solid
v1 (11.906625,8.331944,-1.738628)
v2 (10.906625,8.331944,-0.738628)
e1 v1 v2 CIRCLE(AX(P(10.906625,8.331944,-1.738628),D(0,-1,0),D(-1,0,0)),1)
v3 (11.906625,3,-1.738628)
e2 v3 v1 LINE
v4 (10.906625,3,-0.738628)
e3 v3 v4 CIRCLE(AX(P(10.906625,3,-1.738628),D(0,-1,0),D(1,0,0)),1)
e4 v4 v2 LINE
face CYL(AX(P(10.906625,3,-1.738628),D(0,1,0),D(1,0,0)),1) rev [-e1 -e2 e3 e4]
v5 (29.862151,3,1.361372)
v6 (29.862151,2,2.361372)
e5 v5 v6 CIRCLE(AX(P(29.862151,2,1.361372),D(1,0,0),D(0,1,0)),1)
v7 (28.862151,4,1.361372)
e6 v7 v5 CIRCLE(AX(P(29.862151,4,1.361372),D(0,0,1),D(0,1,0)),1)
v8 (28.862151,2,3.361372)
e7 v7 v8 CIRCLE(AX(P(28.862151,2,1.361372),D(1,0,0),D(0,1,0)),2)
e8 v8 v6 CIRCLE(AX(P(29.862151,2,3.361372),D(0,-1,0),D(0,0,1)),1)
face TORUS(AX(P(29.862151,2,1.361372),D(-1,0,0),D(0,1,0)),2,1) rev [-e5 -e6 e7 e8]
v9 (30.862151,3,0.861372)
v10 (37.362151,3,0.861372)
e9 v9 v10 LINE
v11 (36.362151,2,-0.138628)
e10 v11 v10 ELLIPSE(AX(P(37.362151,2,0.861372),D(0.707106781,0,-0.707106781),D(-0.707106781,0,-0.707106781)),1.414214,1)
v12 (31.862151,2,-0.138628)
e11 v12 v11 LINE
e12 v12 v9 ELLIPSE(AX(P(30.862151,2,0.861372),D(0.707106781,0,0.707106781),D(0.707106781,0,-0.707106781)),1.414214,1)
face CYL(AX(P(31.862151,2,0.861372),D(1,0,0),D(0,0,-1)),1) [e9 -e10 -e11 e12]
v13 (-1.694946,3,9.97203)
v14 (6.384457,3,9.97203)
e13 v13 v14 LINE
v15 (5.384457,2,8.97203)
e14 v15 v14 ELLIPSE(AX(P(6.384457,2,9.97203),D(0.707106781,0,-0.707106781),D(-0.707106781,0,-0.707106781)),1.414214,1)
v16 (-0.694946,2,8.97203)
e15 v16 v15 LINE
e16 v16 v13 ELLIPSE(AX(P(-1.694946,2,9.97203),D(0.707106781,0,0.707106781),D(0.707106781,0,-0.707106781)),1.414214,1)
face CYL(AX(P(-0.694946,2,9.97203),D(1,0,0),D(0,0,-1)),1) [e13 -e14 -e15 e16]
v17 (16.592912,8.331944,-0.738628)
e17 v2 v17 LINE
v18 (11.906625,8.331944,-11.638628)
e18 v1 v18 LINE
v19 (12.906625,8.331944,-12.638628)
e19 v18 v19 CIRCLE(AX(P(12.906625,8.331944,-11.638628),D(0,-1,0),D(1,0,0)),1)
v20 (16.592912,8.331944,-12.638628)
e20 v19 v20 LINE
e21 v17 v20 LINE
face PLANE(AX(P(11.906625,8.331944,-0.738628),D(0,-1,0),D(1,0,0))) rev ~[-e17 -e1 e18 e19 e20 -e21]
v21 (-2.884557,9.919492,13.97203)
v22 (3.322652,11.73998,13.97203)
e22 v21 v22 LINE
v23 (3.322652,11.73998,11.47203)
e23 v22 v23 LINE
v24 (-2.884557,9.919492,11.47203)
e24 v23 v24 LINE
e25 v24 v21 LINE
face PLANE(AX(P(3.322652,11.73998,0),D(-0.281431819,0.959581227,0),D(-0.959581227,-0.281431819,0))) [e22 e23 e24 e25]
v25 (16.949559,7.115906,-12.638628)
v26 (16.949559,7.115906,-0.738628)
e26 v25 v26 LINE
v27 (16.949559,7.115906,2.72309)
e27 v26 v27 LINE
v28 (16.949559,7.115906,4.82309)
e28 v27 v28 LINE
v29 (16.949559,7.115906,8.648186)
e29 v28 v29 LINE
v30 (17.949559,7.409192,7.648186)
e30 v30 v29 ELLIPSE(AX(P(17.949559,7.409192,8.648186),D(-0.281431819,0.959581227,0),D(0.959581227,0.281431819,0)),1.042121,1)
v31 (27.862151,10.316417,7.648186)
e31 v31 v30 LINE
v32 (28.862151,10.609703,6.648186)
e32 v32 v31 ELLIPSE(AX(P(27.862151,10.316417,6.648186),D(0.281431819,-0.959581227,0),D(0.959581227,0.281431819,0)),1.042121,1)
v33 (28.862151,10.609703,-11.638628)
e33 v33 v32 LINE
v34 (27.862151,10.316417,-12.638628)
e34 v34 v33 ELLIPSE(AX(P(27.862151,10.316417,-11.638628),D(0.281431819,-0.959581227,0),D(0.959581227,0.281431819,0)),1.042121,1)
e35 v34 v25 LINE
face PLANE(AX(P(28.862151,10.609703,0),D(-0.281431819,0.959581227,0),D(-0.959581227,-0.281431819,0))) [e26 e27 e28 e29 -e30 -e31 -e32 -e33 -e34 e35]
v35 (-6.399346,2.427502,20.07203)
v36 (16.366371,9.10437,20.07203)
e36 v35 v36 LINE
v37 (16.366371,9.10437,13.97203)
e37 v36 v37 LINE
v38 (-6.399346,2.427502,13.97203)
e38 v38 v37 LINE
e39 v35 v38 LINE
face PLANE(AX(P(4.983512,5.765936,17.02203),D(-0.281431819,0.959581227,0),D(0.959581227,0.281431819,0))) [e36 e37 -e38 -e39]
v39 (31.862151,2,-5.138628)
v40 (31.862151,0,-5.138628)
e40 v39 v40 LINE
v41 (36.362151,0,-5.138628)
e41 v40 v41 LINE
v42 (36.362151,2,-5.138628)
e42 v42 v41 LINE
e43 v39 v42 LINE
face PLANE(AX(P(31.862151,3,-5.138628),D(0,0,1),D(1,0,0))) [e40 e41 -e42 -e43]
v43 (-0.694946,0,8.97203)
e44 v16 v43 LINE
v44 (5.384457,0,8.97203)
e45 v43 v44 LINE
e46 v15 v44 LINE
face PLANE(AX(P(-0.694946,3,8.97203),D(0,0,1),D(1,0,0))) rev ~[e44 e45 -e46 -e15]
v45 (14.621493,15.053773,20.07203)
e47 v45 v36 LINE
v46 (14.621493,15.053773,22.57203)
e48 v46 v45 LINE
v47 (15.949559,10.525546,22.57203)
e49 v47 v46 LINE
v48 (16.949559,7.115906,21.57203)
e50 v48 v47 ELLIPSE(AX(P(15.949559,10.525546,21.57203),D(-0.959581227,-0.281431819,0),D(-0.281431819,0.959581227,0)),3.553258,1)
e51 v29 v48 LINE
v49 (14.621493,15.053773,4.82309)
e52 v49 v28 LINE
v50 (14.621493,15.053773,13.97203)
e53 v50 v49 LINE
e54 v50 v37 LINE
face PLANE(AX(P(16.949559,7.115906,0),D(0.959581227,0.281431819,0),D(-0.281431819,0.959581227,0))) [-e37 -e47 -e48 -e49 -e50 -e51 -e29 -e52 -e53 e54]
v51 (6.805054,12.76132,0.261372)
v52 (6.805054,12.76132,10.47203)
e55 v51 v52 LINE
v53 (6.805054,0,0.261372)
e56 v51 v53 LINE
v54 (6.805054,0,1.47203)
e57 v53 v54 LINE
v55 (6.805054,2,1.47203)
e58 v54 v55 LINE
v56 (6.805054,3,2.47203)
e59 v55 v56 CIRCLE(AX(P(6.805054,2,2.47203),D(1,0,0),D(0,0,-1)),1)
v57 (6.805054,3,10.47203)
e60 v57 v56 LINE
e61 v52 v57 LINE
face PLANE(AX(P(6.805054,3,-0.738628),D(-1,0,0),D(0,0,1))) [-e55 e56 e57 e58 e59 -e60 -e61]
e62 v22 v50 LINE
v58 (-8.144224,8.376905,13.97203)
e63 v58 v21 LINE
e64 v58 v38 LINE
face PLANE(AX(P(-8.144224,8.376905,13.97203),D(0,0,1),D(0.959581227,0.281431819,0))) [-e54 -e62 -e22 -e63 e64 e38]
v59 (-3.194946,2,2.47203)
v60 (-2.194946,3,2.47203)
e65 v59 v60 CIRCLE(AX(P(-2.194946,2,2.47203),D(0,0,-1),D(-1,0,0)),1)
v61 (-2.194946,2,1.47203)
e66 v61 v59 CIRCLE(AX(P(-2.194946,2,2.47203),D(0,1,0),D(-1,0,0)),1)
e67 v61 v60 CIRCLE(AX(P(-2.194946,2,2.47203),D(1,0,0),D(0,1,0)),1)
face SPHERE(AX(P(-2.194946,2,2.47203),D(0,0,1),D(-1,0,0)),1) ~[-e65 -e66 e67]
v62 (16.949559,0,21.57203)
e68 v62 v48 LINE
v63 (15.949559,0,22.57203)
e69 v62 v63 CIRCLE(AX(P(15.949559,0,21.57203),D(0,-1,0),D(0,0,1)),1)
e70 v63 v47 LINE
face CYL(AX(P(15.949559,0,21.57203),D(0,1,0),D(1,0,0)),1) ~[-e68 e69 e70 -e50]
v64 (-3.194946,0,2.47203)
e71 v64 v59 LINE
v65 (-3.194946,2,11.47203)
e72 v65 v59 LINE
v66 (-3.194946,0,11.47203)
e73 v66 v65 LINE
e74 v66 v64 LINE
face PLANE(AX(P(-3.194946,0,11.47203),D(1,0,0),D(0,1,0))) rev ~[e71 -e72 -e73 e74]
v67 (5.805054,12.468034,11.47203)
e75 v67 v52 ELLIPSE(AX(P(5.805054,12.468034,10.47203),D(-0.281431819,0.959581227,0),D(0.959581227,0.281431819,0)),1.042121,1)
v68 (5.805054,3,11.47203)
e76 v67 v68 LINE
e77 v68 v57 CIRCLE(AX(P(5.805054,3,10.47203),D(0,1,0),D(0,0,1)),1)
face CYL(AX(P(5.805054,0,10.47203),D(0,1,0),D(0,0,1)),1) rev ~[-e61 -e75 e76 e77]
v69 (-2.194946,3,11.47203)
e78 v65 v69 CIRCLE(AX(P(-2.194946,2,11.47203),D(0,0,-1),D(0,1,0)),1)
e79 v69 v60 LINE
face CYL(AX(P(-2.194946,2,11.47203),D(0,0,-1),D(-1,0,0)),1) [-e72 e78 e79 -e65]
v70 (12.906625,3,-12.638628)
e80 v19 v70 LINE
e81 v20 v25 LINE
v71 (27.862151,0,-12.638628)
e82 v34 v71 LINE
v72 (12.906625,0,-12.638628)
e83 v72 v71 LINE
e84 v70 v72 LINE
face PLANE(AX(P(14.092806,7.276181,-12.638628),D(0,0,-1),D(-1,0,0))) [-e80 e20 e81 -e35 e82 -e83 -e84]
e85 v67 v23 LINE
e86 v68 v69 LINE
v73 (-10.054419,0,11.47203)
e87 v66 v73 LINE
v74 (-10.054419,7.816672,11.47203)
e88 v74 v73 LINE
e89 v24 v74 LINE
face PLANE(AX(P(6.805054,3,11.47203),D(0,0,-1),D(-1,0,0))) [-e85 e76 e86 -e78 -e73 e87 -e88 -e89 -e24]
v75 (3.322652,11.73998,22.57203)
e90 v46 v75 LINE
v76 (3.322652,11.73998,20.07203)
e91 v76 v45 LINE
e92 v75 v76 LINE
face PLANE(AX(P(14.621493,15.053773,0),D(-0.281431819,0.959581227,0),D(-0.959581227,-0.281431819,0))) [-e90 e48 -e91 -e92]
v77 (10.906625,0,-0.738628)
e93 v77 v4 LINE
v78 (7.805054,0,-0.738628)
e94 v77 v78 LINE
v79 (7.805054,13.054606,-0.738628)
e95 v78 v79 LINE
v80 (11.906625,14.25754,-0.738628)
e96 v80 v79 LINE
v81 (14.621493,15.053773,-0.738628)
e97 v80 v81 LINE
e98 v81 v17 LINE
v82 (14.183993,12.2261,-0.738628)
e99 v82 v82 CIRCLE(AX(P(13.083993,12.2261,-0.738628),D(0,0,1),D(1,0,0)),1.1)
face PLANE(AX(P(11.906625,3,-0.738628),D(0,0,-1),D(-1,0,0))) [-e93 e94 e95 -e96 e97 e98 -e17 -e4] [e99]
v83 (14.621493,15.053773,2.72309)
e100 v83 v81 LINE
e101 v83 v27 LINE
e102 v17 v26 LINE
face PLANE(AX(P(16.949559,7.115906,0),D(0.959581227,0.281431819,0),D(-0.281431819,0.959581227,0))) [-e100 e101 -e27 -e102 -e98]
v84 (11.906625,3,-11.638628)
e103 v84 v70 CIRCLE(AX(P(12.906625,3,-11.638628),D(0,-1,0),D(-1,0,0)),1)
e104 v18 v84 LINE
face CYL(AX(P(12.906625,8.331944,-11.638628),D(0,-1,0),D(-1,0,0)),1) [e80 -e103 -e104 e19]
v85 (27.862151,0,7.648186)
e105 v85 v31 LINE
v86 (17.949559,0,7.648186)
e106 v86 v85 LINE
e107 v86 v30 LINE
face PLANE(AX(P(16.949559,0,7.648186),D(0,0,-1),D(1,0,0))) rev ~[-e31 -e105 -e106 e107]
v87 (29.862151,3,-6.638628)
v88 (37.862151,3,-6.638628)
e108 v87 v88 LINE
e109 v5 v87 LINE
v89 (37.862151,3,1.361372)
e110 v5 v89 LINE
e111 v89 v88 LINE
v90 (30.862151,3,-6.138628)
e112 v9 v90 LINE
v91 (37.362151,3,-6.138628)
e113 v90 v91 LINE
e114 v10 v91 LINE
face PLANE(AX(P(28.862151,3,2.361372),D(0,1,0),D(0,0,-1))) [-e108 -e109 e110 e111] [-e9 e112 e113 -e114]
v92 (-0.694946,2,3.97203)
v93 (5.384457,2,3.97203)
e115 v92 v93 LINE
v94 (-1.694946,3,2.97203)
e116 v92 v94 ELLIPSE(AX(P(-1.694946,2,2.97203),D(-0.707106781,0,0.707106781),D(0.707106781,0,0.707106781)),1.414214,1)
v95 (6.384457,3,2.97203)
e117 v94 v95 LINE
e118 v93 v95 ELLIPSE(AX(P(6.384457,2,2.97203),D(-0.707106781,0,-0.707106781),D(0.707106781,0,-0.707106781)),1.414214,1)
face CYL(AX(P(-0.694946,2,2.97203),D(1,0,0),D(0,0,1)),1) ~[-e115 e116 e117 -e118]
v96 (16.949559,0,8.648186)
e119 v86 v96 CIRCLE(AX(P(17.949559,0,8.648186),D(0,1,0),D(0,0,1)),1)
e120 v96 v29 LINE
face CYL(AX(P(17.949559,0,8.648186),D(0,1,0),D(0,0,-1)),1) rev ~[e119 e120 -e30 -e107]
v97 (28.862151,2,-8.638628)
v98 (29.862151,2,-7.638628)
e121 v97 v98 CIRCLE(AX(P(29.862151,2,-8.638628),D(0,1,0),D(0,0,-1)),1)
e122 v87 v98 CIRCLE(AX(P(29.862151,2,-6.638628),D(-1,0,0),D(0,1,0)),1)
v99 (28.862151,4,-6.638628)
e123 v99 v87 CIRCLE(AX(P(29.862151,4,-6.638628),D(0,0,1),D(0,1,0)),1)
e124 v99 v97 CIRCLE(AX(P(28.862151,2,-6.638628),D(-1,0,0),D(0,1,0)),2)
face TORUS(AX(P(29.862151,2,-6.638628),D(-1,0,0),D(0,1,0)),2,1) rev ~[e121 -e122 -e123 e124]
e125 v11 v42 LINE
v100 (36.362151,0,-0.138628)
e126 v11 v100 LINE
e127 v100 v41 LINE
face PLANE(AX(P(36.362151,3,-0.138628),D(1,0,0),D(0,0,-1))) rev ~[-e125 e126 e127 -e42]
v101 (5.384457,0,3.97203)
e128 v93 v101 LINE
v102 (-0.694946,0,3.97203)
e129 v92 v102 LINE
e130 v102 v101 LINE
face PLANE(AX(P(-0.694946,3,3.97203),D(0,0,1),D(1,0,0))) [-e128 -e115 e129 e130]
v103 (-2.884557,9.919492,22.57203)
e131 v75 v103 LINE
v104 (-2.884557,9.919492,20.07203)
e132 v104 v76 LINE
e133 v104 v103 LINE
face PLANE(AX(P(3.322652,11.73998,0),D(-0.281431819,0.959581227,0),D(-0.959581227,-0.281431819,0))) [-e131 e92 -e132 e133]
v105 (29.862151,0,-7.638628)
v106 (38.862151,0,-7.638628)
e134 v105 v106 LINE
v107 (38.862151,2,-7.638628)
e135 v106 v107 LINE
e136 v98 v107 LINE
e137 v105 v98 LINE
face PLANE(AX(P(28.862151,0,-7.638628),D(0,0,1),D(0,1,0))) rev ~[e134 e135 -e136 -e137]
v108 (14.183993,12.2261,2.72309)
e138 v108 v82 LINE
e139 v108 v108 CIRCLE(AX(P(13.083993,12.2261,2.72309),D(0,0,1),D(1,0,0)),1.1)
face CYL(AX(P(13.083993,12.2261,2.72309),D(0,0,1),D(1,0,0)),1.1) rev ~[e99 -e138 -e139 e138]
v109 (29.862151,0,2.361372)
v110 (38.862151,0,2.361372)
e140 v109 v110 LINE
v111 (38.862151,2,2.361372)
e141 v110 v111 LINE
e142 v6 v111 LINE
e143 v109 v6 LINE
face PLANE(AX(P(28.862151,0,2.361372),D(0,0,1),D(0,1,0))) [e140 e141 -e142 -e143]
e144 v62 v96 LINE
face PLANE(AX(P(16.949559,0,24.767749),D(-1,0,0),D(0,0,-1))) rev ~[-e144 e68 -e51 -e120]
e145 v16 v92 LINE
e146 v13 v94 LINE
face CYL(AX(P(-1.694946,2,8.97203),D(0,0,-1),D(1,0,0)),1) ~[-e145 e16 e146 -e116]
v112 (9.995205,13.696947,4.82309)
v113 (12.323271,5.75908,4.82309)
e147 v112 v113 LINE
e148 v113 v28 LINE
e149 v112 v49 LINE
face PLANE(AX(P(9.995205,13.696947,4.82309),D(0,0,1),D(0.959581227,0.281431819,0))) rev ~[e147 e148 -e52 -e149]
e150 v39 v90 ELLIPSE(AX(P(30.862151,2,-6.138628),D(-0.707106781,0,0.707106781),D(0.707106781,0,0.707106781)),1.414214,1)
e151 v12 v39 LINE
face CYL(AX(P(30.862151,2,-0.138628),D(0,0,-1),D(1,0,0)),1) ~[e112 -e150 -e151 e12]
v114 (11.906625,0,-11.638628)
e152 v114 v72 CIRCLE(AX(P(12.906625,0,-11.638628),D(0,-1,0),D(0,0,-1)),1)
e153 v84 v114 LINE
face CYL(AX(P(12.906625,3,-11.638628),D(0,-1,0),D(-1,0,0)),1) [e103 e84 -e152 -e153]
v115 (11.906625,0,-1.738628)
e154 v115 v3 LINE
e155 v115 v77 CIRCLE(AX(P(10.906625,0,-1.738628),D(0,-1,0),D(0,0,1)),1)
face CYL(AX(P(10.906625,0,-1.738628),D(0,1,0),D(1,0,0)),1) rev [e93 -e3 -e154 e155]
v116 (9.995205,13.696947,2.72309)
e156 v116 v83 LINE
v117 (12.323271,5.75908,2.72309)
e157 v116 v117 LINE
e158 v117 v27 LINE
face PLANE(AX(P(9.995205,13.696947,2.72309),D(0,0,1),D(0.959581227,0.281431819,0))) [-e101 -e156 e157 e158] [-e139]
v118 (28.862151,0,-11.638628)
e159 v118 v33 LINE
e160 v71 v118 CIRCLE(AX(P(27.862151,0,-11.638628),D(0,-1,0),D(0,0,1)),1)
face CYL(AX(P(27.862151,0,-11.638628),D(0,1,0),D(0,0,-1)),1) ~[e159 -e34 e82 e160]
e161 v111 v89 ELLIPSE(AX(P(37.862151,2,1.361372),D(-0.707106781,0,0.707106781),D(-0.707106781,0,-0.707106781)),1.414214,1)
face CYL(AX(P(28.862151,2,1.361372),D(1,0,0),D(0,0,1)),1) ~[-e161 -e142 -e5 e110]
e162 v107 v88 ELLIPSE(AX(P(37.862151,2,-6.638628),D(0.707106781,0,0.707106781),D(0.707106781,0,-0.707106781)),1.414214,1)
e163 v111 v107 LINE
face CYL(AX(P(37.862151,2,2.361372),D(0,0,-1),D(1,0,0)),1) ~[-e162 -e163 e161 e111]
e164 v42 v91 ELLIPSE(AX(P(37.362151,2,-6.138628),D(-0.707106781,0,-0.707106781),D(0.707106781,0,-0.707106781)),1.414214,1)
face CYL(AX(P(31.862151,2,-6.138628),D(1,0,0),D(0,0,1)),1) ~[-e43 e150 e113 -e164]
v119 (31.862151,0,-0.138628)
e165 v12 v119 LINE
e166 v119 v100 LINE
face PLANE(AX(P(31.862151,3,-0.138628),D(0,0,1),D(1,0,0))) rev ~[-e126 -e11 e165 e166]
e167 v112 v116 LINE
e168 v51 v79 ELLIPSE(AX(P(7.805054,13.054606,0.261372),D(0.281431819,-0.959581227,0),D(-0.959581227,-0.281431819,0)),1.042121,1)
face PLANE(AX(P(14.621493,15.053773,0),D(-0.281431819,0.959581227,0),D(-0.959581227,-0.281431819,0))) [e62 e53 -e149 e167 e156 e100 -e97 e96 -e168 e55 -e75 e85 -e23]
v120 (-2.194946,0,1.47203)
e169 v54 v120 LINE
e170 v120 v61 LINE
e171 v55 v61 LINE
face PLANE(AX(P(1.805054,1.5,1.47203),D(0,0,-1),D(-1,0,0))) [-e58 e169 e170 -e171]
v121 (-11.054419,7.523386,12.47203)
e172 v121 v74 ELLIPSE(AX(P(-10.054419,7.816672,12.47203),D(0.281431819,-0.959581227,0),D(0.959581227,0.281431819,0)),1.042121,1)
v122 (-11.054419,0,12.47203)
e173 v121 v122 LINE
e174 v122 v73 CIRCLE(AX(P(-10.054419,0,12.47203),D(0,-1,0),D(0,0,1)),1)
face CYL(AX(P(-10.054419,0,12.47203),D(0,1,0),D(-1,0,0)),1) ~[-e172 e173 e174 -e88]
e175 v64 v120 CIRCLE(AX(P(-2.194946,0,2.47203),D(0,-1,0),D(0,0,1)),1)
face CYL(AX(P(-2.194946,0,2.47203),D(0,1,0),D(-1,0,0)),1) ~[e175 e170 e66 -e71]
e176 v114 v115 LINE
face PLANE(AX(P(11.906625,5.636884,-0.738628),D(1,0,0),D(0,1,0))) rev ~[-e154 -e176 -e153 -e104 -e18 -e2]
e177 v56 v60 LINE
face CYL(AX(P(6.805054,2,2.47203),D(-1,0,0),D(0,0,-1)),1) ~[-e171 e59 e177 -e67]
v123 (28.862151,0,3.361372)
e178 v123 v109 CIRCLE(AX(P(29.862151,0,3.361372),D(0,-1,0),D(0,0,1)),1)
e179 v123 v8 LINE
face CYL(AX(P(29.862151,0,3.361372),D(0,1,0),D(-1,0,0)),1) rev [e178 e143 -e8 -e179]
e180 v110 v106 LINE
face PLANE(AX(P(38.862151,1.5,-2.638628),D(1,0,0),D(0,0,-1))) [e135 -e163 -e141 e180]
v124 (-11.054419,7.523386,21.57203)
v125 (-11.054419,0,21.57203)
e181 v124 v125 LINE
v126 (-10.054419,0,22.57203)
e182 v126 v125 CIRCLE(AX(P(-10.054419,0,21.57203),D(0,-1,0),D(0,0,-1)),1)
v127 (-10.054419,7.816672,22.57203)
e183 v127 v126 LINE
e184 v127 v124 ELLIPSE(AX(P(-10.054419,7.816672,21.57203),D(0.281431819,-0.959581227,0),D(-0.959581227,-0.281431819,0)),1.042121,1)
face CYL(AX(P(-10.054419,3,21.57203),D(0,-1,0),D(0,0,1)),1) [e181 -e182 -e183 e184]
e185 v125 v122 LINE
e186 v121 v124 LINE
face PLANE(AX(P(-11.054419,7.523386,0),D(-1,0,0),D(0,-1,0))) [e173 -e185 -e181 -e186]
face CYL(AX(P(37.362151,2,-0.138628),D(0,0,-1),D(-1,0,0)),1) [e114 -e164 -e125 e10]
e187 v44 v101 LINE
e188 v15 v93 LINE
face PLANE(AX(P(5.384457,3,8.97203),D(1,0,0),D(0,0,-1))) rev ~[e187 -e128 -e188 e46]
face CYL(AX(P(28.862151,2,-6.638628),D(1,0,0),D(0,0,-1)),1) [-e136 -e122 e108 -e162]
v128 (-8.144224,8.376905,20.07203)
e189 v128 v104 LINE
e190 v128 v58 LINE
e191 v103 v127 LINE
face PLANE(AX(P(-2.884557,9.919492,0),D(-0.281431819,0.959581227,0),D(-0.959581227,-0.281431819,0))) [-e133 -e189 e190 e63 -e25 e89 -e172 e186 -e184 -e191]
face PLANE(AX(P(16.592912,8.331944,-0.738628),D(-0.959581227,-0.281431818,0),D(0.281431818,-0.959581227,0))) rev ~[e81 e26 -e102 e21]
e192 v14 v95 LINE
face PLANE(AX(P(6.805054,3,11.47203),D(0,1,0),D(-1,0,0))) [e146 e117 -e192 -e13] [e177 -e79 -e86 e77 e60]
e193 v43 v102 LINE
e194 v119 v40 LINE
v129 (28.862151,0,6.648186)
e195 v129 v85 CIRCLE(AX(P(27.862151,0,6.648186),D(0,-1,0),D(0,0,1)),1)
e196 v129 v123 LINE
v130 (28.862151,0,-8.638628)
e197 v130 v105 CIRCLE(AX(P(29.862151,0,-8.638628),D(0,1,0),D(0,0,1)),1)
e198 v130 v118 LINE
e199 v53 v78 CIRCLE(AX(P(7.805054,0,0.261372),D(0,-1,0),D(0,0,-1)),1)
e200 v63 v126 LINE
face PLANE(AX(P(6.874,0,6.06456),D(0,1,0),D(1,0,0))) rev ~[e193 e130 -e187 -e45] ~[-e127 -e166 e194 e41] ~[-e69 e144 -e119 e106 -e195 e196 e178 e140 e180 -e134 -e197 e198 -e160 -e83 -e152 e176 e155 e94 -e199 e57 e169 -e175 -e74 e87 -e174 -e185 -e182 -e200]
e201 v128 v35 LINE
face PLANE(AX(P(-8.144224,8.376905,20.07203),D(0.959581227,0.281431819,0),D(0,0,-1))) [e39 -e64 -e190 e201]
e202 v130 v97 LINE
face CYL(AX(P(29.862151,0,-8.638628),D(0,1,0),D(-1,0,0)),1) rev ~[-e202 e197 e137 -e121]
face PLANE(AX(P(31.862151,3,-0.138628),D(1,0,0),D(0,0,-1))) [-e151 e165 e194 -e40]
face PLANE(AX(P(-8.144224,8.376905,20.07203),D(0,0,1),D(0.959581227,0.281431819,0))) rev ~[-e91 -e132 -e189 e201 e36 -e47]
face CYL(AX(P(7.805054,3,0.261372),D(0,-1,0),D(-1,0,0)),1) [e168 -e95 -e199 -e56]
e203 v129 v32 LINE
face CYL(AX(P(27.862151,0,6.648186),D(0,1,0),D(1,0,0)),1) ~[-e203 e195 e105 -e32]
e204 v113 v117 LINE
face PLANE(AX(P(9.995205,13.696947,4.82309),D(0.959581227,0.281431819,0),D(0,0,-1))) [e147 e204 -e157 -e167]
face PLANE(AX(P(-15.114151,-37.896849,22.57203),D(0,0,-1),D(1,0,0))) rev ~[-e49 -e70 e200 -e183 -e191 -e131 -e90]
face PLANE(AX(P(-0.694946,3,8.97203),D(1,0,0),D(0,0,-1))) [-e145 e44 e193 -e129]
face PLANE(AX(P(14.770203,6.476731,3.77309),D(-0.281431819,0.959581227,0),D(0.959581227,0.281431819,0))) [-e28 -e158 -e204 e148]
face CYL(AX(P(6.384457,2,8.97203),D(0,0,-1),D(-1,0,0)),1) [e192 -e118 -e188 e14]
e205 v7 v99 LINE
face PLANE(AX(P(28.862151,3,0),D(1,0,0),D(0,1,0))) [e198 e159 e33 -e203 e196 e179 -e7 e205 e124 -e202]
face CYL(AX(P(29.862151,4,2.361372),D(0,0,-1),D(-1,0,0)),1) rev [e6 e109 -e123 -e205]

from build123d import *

# Parameters (mm, degrees)
SKETCH2_W                       = 43.976301399
SKETCH2_H                       = 37.406376753
BOSS_EXTRUDE1_DEPTH             = 3
BOSS_EXTRUDE2_REACH             = 40.151
BOSS_EXTRUDE2_DIRECTION_2_REACH = 40.151
SKETCH4_W                       = 23.72463769
SKETCH4_H                       = 6.1
CUT_EXTRUDE1_DEPTH              = 6.2
SKETCH5_W                       = 13.436339427
SKETCH5_H                       = 17.119562917
CUT_EXTRUDE2_DEPTH              = 42.11242086
CUT_EXTRUDE3_DEPTH              = 40.896849069
CUT_EXTRUDE3_DEPTH_BACK         = 40.896849069
SKETCH6_W                       = 32.063710036
SKETCH6_H                       = 2.195719192
SKETCH7_W                       = 17.859472784
SKETCH7_H                       = 24.110657561
CUT_EXTRUDE4_DEPTH              = 39.572188243
SKETCH9_W                       = 5.100000004
SKETCH9_H                       = 2.100000005
CUT_EXTRUDE5_DEPTH              = 8.272220174
SKETCH10_W                      = 4.059731886
SKETCH10_H                      = 35.210657561
CUT_EXTRUDE6_DEPTH              = 39.572188243
CUT_EXTRUDE7_DEPTH              = 11.9
SKETCH14_W                      = 10
SKETCH14_H                      = 3
BOSS_EXTRUDE3_DEPTH             = 10
SKETCH15_W                      = 4.5
SKETCH15_H                      = 5
CUT_EXTRUDE8_DEPTH              = 47.530169979
FILLET1_R                       = 1
CUT_EXTRUDE9_DEPTH              = 49.140668642
CUT_EXTRUDE10_DEPTH             = 11.9
SKETCH19_R                      = 1.1
CUT_EXTRUDE11_DEPTH             = 47.161274086
BOSS_EXTRUDE4_DEPTH             = 11.9
FILLET2_R                       = 1
SKETCH22_W                      = 10
SKETCH22_H                      = 3
BOSS_EXTRUDE5_DEPTH             = 10
SKETCH23_W                      = 6.079403202
SKETCH23_H                      = 5
CUT_EXTRUDE12_DEPTH             = 47.530169979
FILLET4_R                       = 1


with BuildPart() as part:
    # Sketch2 → Boss-Extrude1 (new body)
    with BuildSketch(Plane(origin=(0, 0, 0), x_dir=(1, 0, 0), z_dir=(0, 1, 0))):
        with Locations((6.873999922, -6.064560357)):
            Rectangle(SKETCH2_W, SKETCH2_H)
    extrude(amount=BOSS_EXTRUDE1_DEPTH)

    # Boss-Extrude2: up to this face of the body (flat: up to its plane)
    boss_extrude2_end = Plane(part.part.faces().sort_by_distance((6.873999922, 1.5, 24.767748733))[0])
    # Sketch3 → Boss-Extrude2 (add, up to the picked face)
    with BuildSketch(Plane.XY, mode=Mode.PRIVATE) as boss_extrude2_sk1:
        Polygon((3.322651848, 11.739980321), (-2.884556794, 9.919492418), (-11.054418892, 7.523385572), (-11.054418892, 3), (28.862150621, 3), (28.862150621, 10.609703324), (16.949559258, 7.115906075), (14.621493291, 15.05377326), align=None)
    boss_extrude2_tool1 = split(extrude(boss_extrude2_sk1.sketch, amount=BOSS_EXTRUDE2_REACH, mode=Mode.PRIVATE), bisect_by=boss_extrude2_end, keep=Keep.BOTH, mode=Mode.PRIVATE)
    add(boss_extrude2_tool1.solids().sort_by(Axis((9.048322, 7.098551, 0), (0, 0, 1)))[0])

    # Boss-Extrude2 direction 2: up to this face of the body (flat: up to its plane)
    boss_extrude2_direction_2_end = Plane(part.part.faces().sort_by_distance((6.873999922, 1.5, -12.63862802))[0])
    # Sketch3 → Boss-Extrude2 direction 2 (add, up to the picked face)
    with BuildSketch(Plane.XY, mode=Mode.PRIVATE) as boss_extrude2_direction_2_sk1:
        Polygon((3.322651848, 11.739980321), (-2.884556794, 9.919492418), (-11.054418892, 7.523385572), (-11.054418892, 3), (28.862150621, 3), (28.862150621, 10.609703324), (16.949559258, 7.115906075), (14.621493291, 15.05377326), align=None)
    boss_extrude2_direction_2_tool1 = split(extrude(boss_extrude2_direction_2_sk1.sketch, amount=-BOSS_EXTRUDE2_DIRECTION_2_REACH, mode=Mode.PRIVATE), bisect_by=boss_extrude2_direction_2_end, keep=Keep.BOTH, mode=Mode.PRIVATE)
    add(boss_extrude2_direction_2_tool1.solids().sort_by(Axis((9.048322, 7.098551, 0), (0, 0, -1)))[0])

    # Sketch4 → Cut-Extrude1 (cut)
    with BuildSketch(Plane(origin=(-2.907293344, 9.912824104, 0), x_dir=(0.9595812271500734, 0.2814318185656328, 0), z_dir=(-0.2814318185656328, 0.9595812271500734, 0))):
        with Locations((6.404802415, -17.022029541)):
            Rectangle(SKETCH4_W, SKETCH4_H)
    extrude(amount=-CUT_EXTRUDE1_DEPTH, mode=Mode.SUBTRACT)

    # Sketch5 → Cut-Extrude2 (cut, through all)
    with BuildSketch(Plane(origin=(-0.295587327, 0, 0), x_dir=(1, 0, 0), z_dir=(0, 1, 0))):
        with Locations((23.963316299, -16.207967274)):
            Rectangle(SKETCH5_W, SKETCH5_H)
    extrude(amount=CUT_EXTRUDE2_DEPTH, mode=Mode.SUBTRACT)

    # Sketch6 → Cut-Extrude3 (cut, two sides: drawn at the far end of the back side and taken through both)
    with BuildSketch(Plane(origin=(0, 3, 0), x_dir=(1, 0, 0), z_dir=(0, 1, 0)).offset(-CUT_EXTRUDE3_DEPTH_BACK)):
        with Locations((0.91770424, -23.669889137)):
            Rectangle(SKETCH6_W, SKETCH6_H)
    extrude(amount=CUT_EXTRUDE3_DEPTH + CUT_EXTRUDE3_DEPTH_BACK, mode=Mode.SUBTRACT)

    # Sketch7 → Cut-Extrude4 (cut, through all)
    with BuildSketch(Plane(origin=(0, 3, 0), x_dir=(1, 0, 0), z_dir=(0, 1, 0))):
        with Locations((-2.1246825, 0.583299239)):
            Rectangle(SKETCH7_W, SKETCH7_H)
    extrude(amount=CUT_EXTRUDE4_DEPTH, mode=Mode.SUBTRACT)

    # Sketch9 → Cut-Extrude5 (cut)
    with BuildSketch(Plane(origin=(-2.907293344, 9.912824104, 0), x_dir=(0.9595812271500733, 0.28143181856563293, 0), z_dir=(-0.28143181856563293, 0.9595812271500733, 0))):
        with Locations((15.995967709, -3.773090404)):
            Rectangle(SKETCH9_W, SKETCH9_H)
    extrude(amount=-CUT_EXTRUDE5_DEPTH, mode=Mode.SUBTRACT)

    # Sketch10 → Cut-Extrude6 (cut, through all)
    with BuildSketch(Plane(origin=(0, 3, 0), x_dir=(1, 0, 0), z_dir=(0, 1, 0))):
        with Locations((-13.084284835, -4.966700761)):
            Rectangle(SKETCH10_W, SKETCH10_H)
    extrude(amount=-CUT_EXTRUDE6_DEPTH, mode=Mode.SUBTRACT)

    # Sketch11 → Cut-Extrude7 (cut)
    with BuildSketch(Plane(origin=(0, 0, -12.63862802), x_dir=(-1, 0, 0), z_dir=(0, 0, -1))):
        Polygon((-6.805053892, 3), (-11.906625133, 3), (-11.906625133, 14.257540215), (-6.805053892, 12.761320373), align=None)
    extrude(amount=-CUT_EXTRUDE7_DEPTH, mode=Mode.SUBTRACT)

    # Sketch14 → Boss-Extrude3 (add)
    with BuildSketch(Plane(origin=(28.862150621, 0, 0), x_dir=(0, 0, -1), z_dir=(1, 0, 0))):
        with Locations((2.63862802, 1.5)):
            Rectangle(SKETCH14_W, SKETCH14_H)
    extrude(amount=BOSS_EXTRUDE3_DEPTH)

    # Sketch15 → Cut-Extrude8 (cut, through all)
    with BuildSketch(Plane(origin=(0, 3, 0), x_dir=(1, 0, 0), z_dir=(0, 1, 0))):
        with Locations((34.112150621, 2.63862802)):
            Rectangle(SKETCH15_W, SKETCH15_H)
    extrude(amount=-CUT_EXTRUDE8_DEPTH, mode=Mode.SUBTRACT)

    # Fillet1
    fillet1_edges = [part.edges().sort_by_distance(p)[0] for p in [
        (28.862150621, 1.5, -7.63862802),
        (28.862150621, 1.5, 2.36137198),
        (33.862150621, 3, -7.63862802),
        (38.862150621, 3, -2.63862802),
        (33.862150621, 3, 2.36137198),
        (28.862150621, 3, -2.63862802),
        (36.362150621, 3, -2.63862802),
        (34.112150621, 3, -5.13862802),
        (31.862150621, 3, -2.63862802),
        (34.112150621, 3, -0.13862802),
    ]]
    fillet(fillet1_edges, radius=FILLET1_R)

    # Sketch17 → Cut-Extrude9 (cut, through all)
    with BuildSketch(Plane(origin=(-1.914484966, 3, 0), x_dir=(1, 0, 0), z_dir=(0, 1, 0))):
        Polygon((13.8211101, 12.63862802), (13.8211101, 0.73862802), (8.719538859, 0.73862802), (8.719538859, -11.472029541), (-9.139933926, -11.472029541), (-9.139933926, 12.63862802), align=None)
    extrude(amount=-CUT_EXTRUDE9_DEPTH, mode=Mode.SUBTRACT)

    # Sketch18 → Cut-Extrude10 (cut)
    with BuildSketch(Plane(origin=(0, 0, -12.63862802), x_dir=(-1, 0, 0), z_dir=(0, 0, -1))):
        Polygon((-16.949559258, 7.115906075), (-11.906625133, 5.636883683), (-11.906625133, 14.257540215), (-14.621493291, 15.05377326), align=None)
    extrude(amount=-CUT_EXTRUDE10_DEPTH, mode=Mode.SUBTRACT)

    # Sketch19 → Cut-Extrude11 (cut, through all)
    with BuildSketch(Plane.XY.offset(2.723090401)):
        with Locations((13.083993021, 12.226100253)):
            Circle(SKETCH19_R)
    extrude(amount=-CUT_EXTRUDE11_DEPTH, mode=Mode.SUBTRACT)

    # Sketch21 → Boss-Extrude4 (add)
    with BuildSketch(Plane(origin=(0, 0, -0.73862802), x_dir=(-1, 0, 0), z_dir=(0, 0, -1))):
        Polygon((-16.949559258, 7.115906075), (-11.906625133, 5.636883683), (-11.906625133, 8.331943724), (-16.592912341, 8.331943724), align=None)
    extrude(amount=BOSS_EXTRUDE4_DEPTH)

    # Fillet2
    fillet2_edges = [part.edges().sort_by_distance(p)[0] for p in [
        (16.949559258, 3.557953038, 7.648185816),
        (16.949559258, 3.557953038, 22.572029541),
        (28.862150621, 5.304851662, 7.648185816),
        (28.862150621, 5.304851662, -12.63862802),
        (11.906625133, 4.165971862, -0.73862802),
        (11.906625133, 4.165971862, -12.63862802),
        (-11.054418892, 3.761692786, 11.472029541),
        (-11.054418892, 3.761692786, 22.572029541),
        (6.805053892, 6.380660187, -0.73862802),
        (6.805053892, 6.380660187, 11.472029541),
    ]]
    fillet(fillet2_edges, radius=FILLET2_R)

    # Sketch22 → Boss-Extrude5 (add)
    with BuildSketch(Plane(origin=(0, 0, 11.472029541), x_dir=(-1, 0, 0), z_dir=(0, 0, -1))):
        with Locations((-1.805053892, 1.5)):
            Rectangle(SKETCH22_W, SKETCH22_H)
    extrude(amount=BOSS_EXTRUDE5_DEPTH)

    # Sketch23 → Cut-Extrude12 (cut, through all)
    with BuildSketch(Plane(origin=(0, 3, 0), x_dir=(1, 0, 0), z_dir=(0, 1, 0))):
        with Locations((2.344755493, -6.472029541)):
            Rectangle(SKETCH23_W, SKETCH23_H)
    extrude(amount=-CUT_EXTRUDE12_DEPTH, mode=Mode.SUBTRACT)

    # Fillet4
    fillet4_edges = [part.edges().sort_by_distance(p)[0] for p in [
        (-3.194946108, 3, 6.472029541),
        (-3.194946108, 1.5, 1.472029541),
        (1.805053892, 3, 1.472029541),
        (5.384457094, 3, 6.472029541),
        (2.344755493, 3, 3.972029541),
        (-0.694946108, 3, 6.472029541),
        (2.344755493, 3, 8.972029541),
    ]]
    fillet(fillet4_edges, radius=FILLET4_R)


solid = part.part
